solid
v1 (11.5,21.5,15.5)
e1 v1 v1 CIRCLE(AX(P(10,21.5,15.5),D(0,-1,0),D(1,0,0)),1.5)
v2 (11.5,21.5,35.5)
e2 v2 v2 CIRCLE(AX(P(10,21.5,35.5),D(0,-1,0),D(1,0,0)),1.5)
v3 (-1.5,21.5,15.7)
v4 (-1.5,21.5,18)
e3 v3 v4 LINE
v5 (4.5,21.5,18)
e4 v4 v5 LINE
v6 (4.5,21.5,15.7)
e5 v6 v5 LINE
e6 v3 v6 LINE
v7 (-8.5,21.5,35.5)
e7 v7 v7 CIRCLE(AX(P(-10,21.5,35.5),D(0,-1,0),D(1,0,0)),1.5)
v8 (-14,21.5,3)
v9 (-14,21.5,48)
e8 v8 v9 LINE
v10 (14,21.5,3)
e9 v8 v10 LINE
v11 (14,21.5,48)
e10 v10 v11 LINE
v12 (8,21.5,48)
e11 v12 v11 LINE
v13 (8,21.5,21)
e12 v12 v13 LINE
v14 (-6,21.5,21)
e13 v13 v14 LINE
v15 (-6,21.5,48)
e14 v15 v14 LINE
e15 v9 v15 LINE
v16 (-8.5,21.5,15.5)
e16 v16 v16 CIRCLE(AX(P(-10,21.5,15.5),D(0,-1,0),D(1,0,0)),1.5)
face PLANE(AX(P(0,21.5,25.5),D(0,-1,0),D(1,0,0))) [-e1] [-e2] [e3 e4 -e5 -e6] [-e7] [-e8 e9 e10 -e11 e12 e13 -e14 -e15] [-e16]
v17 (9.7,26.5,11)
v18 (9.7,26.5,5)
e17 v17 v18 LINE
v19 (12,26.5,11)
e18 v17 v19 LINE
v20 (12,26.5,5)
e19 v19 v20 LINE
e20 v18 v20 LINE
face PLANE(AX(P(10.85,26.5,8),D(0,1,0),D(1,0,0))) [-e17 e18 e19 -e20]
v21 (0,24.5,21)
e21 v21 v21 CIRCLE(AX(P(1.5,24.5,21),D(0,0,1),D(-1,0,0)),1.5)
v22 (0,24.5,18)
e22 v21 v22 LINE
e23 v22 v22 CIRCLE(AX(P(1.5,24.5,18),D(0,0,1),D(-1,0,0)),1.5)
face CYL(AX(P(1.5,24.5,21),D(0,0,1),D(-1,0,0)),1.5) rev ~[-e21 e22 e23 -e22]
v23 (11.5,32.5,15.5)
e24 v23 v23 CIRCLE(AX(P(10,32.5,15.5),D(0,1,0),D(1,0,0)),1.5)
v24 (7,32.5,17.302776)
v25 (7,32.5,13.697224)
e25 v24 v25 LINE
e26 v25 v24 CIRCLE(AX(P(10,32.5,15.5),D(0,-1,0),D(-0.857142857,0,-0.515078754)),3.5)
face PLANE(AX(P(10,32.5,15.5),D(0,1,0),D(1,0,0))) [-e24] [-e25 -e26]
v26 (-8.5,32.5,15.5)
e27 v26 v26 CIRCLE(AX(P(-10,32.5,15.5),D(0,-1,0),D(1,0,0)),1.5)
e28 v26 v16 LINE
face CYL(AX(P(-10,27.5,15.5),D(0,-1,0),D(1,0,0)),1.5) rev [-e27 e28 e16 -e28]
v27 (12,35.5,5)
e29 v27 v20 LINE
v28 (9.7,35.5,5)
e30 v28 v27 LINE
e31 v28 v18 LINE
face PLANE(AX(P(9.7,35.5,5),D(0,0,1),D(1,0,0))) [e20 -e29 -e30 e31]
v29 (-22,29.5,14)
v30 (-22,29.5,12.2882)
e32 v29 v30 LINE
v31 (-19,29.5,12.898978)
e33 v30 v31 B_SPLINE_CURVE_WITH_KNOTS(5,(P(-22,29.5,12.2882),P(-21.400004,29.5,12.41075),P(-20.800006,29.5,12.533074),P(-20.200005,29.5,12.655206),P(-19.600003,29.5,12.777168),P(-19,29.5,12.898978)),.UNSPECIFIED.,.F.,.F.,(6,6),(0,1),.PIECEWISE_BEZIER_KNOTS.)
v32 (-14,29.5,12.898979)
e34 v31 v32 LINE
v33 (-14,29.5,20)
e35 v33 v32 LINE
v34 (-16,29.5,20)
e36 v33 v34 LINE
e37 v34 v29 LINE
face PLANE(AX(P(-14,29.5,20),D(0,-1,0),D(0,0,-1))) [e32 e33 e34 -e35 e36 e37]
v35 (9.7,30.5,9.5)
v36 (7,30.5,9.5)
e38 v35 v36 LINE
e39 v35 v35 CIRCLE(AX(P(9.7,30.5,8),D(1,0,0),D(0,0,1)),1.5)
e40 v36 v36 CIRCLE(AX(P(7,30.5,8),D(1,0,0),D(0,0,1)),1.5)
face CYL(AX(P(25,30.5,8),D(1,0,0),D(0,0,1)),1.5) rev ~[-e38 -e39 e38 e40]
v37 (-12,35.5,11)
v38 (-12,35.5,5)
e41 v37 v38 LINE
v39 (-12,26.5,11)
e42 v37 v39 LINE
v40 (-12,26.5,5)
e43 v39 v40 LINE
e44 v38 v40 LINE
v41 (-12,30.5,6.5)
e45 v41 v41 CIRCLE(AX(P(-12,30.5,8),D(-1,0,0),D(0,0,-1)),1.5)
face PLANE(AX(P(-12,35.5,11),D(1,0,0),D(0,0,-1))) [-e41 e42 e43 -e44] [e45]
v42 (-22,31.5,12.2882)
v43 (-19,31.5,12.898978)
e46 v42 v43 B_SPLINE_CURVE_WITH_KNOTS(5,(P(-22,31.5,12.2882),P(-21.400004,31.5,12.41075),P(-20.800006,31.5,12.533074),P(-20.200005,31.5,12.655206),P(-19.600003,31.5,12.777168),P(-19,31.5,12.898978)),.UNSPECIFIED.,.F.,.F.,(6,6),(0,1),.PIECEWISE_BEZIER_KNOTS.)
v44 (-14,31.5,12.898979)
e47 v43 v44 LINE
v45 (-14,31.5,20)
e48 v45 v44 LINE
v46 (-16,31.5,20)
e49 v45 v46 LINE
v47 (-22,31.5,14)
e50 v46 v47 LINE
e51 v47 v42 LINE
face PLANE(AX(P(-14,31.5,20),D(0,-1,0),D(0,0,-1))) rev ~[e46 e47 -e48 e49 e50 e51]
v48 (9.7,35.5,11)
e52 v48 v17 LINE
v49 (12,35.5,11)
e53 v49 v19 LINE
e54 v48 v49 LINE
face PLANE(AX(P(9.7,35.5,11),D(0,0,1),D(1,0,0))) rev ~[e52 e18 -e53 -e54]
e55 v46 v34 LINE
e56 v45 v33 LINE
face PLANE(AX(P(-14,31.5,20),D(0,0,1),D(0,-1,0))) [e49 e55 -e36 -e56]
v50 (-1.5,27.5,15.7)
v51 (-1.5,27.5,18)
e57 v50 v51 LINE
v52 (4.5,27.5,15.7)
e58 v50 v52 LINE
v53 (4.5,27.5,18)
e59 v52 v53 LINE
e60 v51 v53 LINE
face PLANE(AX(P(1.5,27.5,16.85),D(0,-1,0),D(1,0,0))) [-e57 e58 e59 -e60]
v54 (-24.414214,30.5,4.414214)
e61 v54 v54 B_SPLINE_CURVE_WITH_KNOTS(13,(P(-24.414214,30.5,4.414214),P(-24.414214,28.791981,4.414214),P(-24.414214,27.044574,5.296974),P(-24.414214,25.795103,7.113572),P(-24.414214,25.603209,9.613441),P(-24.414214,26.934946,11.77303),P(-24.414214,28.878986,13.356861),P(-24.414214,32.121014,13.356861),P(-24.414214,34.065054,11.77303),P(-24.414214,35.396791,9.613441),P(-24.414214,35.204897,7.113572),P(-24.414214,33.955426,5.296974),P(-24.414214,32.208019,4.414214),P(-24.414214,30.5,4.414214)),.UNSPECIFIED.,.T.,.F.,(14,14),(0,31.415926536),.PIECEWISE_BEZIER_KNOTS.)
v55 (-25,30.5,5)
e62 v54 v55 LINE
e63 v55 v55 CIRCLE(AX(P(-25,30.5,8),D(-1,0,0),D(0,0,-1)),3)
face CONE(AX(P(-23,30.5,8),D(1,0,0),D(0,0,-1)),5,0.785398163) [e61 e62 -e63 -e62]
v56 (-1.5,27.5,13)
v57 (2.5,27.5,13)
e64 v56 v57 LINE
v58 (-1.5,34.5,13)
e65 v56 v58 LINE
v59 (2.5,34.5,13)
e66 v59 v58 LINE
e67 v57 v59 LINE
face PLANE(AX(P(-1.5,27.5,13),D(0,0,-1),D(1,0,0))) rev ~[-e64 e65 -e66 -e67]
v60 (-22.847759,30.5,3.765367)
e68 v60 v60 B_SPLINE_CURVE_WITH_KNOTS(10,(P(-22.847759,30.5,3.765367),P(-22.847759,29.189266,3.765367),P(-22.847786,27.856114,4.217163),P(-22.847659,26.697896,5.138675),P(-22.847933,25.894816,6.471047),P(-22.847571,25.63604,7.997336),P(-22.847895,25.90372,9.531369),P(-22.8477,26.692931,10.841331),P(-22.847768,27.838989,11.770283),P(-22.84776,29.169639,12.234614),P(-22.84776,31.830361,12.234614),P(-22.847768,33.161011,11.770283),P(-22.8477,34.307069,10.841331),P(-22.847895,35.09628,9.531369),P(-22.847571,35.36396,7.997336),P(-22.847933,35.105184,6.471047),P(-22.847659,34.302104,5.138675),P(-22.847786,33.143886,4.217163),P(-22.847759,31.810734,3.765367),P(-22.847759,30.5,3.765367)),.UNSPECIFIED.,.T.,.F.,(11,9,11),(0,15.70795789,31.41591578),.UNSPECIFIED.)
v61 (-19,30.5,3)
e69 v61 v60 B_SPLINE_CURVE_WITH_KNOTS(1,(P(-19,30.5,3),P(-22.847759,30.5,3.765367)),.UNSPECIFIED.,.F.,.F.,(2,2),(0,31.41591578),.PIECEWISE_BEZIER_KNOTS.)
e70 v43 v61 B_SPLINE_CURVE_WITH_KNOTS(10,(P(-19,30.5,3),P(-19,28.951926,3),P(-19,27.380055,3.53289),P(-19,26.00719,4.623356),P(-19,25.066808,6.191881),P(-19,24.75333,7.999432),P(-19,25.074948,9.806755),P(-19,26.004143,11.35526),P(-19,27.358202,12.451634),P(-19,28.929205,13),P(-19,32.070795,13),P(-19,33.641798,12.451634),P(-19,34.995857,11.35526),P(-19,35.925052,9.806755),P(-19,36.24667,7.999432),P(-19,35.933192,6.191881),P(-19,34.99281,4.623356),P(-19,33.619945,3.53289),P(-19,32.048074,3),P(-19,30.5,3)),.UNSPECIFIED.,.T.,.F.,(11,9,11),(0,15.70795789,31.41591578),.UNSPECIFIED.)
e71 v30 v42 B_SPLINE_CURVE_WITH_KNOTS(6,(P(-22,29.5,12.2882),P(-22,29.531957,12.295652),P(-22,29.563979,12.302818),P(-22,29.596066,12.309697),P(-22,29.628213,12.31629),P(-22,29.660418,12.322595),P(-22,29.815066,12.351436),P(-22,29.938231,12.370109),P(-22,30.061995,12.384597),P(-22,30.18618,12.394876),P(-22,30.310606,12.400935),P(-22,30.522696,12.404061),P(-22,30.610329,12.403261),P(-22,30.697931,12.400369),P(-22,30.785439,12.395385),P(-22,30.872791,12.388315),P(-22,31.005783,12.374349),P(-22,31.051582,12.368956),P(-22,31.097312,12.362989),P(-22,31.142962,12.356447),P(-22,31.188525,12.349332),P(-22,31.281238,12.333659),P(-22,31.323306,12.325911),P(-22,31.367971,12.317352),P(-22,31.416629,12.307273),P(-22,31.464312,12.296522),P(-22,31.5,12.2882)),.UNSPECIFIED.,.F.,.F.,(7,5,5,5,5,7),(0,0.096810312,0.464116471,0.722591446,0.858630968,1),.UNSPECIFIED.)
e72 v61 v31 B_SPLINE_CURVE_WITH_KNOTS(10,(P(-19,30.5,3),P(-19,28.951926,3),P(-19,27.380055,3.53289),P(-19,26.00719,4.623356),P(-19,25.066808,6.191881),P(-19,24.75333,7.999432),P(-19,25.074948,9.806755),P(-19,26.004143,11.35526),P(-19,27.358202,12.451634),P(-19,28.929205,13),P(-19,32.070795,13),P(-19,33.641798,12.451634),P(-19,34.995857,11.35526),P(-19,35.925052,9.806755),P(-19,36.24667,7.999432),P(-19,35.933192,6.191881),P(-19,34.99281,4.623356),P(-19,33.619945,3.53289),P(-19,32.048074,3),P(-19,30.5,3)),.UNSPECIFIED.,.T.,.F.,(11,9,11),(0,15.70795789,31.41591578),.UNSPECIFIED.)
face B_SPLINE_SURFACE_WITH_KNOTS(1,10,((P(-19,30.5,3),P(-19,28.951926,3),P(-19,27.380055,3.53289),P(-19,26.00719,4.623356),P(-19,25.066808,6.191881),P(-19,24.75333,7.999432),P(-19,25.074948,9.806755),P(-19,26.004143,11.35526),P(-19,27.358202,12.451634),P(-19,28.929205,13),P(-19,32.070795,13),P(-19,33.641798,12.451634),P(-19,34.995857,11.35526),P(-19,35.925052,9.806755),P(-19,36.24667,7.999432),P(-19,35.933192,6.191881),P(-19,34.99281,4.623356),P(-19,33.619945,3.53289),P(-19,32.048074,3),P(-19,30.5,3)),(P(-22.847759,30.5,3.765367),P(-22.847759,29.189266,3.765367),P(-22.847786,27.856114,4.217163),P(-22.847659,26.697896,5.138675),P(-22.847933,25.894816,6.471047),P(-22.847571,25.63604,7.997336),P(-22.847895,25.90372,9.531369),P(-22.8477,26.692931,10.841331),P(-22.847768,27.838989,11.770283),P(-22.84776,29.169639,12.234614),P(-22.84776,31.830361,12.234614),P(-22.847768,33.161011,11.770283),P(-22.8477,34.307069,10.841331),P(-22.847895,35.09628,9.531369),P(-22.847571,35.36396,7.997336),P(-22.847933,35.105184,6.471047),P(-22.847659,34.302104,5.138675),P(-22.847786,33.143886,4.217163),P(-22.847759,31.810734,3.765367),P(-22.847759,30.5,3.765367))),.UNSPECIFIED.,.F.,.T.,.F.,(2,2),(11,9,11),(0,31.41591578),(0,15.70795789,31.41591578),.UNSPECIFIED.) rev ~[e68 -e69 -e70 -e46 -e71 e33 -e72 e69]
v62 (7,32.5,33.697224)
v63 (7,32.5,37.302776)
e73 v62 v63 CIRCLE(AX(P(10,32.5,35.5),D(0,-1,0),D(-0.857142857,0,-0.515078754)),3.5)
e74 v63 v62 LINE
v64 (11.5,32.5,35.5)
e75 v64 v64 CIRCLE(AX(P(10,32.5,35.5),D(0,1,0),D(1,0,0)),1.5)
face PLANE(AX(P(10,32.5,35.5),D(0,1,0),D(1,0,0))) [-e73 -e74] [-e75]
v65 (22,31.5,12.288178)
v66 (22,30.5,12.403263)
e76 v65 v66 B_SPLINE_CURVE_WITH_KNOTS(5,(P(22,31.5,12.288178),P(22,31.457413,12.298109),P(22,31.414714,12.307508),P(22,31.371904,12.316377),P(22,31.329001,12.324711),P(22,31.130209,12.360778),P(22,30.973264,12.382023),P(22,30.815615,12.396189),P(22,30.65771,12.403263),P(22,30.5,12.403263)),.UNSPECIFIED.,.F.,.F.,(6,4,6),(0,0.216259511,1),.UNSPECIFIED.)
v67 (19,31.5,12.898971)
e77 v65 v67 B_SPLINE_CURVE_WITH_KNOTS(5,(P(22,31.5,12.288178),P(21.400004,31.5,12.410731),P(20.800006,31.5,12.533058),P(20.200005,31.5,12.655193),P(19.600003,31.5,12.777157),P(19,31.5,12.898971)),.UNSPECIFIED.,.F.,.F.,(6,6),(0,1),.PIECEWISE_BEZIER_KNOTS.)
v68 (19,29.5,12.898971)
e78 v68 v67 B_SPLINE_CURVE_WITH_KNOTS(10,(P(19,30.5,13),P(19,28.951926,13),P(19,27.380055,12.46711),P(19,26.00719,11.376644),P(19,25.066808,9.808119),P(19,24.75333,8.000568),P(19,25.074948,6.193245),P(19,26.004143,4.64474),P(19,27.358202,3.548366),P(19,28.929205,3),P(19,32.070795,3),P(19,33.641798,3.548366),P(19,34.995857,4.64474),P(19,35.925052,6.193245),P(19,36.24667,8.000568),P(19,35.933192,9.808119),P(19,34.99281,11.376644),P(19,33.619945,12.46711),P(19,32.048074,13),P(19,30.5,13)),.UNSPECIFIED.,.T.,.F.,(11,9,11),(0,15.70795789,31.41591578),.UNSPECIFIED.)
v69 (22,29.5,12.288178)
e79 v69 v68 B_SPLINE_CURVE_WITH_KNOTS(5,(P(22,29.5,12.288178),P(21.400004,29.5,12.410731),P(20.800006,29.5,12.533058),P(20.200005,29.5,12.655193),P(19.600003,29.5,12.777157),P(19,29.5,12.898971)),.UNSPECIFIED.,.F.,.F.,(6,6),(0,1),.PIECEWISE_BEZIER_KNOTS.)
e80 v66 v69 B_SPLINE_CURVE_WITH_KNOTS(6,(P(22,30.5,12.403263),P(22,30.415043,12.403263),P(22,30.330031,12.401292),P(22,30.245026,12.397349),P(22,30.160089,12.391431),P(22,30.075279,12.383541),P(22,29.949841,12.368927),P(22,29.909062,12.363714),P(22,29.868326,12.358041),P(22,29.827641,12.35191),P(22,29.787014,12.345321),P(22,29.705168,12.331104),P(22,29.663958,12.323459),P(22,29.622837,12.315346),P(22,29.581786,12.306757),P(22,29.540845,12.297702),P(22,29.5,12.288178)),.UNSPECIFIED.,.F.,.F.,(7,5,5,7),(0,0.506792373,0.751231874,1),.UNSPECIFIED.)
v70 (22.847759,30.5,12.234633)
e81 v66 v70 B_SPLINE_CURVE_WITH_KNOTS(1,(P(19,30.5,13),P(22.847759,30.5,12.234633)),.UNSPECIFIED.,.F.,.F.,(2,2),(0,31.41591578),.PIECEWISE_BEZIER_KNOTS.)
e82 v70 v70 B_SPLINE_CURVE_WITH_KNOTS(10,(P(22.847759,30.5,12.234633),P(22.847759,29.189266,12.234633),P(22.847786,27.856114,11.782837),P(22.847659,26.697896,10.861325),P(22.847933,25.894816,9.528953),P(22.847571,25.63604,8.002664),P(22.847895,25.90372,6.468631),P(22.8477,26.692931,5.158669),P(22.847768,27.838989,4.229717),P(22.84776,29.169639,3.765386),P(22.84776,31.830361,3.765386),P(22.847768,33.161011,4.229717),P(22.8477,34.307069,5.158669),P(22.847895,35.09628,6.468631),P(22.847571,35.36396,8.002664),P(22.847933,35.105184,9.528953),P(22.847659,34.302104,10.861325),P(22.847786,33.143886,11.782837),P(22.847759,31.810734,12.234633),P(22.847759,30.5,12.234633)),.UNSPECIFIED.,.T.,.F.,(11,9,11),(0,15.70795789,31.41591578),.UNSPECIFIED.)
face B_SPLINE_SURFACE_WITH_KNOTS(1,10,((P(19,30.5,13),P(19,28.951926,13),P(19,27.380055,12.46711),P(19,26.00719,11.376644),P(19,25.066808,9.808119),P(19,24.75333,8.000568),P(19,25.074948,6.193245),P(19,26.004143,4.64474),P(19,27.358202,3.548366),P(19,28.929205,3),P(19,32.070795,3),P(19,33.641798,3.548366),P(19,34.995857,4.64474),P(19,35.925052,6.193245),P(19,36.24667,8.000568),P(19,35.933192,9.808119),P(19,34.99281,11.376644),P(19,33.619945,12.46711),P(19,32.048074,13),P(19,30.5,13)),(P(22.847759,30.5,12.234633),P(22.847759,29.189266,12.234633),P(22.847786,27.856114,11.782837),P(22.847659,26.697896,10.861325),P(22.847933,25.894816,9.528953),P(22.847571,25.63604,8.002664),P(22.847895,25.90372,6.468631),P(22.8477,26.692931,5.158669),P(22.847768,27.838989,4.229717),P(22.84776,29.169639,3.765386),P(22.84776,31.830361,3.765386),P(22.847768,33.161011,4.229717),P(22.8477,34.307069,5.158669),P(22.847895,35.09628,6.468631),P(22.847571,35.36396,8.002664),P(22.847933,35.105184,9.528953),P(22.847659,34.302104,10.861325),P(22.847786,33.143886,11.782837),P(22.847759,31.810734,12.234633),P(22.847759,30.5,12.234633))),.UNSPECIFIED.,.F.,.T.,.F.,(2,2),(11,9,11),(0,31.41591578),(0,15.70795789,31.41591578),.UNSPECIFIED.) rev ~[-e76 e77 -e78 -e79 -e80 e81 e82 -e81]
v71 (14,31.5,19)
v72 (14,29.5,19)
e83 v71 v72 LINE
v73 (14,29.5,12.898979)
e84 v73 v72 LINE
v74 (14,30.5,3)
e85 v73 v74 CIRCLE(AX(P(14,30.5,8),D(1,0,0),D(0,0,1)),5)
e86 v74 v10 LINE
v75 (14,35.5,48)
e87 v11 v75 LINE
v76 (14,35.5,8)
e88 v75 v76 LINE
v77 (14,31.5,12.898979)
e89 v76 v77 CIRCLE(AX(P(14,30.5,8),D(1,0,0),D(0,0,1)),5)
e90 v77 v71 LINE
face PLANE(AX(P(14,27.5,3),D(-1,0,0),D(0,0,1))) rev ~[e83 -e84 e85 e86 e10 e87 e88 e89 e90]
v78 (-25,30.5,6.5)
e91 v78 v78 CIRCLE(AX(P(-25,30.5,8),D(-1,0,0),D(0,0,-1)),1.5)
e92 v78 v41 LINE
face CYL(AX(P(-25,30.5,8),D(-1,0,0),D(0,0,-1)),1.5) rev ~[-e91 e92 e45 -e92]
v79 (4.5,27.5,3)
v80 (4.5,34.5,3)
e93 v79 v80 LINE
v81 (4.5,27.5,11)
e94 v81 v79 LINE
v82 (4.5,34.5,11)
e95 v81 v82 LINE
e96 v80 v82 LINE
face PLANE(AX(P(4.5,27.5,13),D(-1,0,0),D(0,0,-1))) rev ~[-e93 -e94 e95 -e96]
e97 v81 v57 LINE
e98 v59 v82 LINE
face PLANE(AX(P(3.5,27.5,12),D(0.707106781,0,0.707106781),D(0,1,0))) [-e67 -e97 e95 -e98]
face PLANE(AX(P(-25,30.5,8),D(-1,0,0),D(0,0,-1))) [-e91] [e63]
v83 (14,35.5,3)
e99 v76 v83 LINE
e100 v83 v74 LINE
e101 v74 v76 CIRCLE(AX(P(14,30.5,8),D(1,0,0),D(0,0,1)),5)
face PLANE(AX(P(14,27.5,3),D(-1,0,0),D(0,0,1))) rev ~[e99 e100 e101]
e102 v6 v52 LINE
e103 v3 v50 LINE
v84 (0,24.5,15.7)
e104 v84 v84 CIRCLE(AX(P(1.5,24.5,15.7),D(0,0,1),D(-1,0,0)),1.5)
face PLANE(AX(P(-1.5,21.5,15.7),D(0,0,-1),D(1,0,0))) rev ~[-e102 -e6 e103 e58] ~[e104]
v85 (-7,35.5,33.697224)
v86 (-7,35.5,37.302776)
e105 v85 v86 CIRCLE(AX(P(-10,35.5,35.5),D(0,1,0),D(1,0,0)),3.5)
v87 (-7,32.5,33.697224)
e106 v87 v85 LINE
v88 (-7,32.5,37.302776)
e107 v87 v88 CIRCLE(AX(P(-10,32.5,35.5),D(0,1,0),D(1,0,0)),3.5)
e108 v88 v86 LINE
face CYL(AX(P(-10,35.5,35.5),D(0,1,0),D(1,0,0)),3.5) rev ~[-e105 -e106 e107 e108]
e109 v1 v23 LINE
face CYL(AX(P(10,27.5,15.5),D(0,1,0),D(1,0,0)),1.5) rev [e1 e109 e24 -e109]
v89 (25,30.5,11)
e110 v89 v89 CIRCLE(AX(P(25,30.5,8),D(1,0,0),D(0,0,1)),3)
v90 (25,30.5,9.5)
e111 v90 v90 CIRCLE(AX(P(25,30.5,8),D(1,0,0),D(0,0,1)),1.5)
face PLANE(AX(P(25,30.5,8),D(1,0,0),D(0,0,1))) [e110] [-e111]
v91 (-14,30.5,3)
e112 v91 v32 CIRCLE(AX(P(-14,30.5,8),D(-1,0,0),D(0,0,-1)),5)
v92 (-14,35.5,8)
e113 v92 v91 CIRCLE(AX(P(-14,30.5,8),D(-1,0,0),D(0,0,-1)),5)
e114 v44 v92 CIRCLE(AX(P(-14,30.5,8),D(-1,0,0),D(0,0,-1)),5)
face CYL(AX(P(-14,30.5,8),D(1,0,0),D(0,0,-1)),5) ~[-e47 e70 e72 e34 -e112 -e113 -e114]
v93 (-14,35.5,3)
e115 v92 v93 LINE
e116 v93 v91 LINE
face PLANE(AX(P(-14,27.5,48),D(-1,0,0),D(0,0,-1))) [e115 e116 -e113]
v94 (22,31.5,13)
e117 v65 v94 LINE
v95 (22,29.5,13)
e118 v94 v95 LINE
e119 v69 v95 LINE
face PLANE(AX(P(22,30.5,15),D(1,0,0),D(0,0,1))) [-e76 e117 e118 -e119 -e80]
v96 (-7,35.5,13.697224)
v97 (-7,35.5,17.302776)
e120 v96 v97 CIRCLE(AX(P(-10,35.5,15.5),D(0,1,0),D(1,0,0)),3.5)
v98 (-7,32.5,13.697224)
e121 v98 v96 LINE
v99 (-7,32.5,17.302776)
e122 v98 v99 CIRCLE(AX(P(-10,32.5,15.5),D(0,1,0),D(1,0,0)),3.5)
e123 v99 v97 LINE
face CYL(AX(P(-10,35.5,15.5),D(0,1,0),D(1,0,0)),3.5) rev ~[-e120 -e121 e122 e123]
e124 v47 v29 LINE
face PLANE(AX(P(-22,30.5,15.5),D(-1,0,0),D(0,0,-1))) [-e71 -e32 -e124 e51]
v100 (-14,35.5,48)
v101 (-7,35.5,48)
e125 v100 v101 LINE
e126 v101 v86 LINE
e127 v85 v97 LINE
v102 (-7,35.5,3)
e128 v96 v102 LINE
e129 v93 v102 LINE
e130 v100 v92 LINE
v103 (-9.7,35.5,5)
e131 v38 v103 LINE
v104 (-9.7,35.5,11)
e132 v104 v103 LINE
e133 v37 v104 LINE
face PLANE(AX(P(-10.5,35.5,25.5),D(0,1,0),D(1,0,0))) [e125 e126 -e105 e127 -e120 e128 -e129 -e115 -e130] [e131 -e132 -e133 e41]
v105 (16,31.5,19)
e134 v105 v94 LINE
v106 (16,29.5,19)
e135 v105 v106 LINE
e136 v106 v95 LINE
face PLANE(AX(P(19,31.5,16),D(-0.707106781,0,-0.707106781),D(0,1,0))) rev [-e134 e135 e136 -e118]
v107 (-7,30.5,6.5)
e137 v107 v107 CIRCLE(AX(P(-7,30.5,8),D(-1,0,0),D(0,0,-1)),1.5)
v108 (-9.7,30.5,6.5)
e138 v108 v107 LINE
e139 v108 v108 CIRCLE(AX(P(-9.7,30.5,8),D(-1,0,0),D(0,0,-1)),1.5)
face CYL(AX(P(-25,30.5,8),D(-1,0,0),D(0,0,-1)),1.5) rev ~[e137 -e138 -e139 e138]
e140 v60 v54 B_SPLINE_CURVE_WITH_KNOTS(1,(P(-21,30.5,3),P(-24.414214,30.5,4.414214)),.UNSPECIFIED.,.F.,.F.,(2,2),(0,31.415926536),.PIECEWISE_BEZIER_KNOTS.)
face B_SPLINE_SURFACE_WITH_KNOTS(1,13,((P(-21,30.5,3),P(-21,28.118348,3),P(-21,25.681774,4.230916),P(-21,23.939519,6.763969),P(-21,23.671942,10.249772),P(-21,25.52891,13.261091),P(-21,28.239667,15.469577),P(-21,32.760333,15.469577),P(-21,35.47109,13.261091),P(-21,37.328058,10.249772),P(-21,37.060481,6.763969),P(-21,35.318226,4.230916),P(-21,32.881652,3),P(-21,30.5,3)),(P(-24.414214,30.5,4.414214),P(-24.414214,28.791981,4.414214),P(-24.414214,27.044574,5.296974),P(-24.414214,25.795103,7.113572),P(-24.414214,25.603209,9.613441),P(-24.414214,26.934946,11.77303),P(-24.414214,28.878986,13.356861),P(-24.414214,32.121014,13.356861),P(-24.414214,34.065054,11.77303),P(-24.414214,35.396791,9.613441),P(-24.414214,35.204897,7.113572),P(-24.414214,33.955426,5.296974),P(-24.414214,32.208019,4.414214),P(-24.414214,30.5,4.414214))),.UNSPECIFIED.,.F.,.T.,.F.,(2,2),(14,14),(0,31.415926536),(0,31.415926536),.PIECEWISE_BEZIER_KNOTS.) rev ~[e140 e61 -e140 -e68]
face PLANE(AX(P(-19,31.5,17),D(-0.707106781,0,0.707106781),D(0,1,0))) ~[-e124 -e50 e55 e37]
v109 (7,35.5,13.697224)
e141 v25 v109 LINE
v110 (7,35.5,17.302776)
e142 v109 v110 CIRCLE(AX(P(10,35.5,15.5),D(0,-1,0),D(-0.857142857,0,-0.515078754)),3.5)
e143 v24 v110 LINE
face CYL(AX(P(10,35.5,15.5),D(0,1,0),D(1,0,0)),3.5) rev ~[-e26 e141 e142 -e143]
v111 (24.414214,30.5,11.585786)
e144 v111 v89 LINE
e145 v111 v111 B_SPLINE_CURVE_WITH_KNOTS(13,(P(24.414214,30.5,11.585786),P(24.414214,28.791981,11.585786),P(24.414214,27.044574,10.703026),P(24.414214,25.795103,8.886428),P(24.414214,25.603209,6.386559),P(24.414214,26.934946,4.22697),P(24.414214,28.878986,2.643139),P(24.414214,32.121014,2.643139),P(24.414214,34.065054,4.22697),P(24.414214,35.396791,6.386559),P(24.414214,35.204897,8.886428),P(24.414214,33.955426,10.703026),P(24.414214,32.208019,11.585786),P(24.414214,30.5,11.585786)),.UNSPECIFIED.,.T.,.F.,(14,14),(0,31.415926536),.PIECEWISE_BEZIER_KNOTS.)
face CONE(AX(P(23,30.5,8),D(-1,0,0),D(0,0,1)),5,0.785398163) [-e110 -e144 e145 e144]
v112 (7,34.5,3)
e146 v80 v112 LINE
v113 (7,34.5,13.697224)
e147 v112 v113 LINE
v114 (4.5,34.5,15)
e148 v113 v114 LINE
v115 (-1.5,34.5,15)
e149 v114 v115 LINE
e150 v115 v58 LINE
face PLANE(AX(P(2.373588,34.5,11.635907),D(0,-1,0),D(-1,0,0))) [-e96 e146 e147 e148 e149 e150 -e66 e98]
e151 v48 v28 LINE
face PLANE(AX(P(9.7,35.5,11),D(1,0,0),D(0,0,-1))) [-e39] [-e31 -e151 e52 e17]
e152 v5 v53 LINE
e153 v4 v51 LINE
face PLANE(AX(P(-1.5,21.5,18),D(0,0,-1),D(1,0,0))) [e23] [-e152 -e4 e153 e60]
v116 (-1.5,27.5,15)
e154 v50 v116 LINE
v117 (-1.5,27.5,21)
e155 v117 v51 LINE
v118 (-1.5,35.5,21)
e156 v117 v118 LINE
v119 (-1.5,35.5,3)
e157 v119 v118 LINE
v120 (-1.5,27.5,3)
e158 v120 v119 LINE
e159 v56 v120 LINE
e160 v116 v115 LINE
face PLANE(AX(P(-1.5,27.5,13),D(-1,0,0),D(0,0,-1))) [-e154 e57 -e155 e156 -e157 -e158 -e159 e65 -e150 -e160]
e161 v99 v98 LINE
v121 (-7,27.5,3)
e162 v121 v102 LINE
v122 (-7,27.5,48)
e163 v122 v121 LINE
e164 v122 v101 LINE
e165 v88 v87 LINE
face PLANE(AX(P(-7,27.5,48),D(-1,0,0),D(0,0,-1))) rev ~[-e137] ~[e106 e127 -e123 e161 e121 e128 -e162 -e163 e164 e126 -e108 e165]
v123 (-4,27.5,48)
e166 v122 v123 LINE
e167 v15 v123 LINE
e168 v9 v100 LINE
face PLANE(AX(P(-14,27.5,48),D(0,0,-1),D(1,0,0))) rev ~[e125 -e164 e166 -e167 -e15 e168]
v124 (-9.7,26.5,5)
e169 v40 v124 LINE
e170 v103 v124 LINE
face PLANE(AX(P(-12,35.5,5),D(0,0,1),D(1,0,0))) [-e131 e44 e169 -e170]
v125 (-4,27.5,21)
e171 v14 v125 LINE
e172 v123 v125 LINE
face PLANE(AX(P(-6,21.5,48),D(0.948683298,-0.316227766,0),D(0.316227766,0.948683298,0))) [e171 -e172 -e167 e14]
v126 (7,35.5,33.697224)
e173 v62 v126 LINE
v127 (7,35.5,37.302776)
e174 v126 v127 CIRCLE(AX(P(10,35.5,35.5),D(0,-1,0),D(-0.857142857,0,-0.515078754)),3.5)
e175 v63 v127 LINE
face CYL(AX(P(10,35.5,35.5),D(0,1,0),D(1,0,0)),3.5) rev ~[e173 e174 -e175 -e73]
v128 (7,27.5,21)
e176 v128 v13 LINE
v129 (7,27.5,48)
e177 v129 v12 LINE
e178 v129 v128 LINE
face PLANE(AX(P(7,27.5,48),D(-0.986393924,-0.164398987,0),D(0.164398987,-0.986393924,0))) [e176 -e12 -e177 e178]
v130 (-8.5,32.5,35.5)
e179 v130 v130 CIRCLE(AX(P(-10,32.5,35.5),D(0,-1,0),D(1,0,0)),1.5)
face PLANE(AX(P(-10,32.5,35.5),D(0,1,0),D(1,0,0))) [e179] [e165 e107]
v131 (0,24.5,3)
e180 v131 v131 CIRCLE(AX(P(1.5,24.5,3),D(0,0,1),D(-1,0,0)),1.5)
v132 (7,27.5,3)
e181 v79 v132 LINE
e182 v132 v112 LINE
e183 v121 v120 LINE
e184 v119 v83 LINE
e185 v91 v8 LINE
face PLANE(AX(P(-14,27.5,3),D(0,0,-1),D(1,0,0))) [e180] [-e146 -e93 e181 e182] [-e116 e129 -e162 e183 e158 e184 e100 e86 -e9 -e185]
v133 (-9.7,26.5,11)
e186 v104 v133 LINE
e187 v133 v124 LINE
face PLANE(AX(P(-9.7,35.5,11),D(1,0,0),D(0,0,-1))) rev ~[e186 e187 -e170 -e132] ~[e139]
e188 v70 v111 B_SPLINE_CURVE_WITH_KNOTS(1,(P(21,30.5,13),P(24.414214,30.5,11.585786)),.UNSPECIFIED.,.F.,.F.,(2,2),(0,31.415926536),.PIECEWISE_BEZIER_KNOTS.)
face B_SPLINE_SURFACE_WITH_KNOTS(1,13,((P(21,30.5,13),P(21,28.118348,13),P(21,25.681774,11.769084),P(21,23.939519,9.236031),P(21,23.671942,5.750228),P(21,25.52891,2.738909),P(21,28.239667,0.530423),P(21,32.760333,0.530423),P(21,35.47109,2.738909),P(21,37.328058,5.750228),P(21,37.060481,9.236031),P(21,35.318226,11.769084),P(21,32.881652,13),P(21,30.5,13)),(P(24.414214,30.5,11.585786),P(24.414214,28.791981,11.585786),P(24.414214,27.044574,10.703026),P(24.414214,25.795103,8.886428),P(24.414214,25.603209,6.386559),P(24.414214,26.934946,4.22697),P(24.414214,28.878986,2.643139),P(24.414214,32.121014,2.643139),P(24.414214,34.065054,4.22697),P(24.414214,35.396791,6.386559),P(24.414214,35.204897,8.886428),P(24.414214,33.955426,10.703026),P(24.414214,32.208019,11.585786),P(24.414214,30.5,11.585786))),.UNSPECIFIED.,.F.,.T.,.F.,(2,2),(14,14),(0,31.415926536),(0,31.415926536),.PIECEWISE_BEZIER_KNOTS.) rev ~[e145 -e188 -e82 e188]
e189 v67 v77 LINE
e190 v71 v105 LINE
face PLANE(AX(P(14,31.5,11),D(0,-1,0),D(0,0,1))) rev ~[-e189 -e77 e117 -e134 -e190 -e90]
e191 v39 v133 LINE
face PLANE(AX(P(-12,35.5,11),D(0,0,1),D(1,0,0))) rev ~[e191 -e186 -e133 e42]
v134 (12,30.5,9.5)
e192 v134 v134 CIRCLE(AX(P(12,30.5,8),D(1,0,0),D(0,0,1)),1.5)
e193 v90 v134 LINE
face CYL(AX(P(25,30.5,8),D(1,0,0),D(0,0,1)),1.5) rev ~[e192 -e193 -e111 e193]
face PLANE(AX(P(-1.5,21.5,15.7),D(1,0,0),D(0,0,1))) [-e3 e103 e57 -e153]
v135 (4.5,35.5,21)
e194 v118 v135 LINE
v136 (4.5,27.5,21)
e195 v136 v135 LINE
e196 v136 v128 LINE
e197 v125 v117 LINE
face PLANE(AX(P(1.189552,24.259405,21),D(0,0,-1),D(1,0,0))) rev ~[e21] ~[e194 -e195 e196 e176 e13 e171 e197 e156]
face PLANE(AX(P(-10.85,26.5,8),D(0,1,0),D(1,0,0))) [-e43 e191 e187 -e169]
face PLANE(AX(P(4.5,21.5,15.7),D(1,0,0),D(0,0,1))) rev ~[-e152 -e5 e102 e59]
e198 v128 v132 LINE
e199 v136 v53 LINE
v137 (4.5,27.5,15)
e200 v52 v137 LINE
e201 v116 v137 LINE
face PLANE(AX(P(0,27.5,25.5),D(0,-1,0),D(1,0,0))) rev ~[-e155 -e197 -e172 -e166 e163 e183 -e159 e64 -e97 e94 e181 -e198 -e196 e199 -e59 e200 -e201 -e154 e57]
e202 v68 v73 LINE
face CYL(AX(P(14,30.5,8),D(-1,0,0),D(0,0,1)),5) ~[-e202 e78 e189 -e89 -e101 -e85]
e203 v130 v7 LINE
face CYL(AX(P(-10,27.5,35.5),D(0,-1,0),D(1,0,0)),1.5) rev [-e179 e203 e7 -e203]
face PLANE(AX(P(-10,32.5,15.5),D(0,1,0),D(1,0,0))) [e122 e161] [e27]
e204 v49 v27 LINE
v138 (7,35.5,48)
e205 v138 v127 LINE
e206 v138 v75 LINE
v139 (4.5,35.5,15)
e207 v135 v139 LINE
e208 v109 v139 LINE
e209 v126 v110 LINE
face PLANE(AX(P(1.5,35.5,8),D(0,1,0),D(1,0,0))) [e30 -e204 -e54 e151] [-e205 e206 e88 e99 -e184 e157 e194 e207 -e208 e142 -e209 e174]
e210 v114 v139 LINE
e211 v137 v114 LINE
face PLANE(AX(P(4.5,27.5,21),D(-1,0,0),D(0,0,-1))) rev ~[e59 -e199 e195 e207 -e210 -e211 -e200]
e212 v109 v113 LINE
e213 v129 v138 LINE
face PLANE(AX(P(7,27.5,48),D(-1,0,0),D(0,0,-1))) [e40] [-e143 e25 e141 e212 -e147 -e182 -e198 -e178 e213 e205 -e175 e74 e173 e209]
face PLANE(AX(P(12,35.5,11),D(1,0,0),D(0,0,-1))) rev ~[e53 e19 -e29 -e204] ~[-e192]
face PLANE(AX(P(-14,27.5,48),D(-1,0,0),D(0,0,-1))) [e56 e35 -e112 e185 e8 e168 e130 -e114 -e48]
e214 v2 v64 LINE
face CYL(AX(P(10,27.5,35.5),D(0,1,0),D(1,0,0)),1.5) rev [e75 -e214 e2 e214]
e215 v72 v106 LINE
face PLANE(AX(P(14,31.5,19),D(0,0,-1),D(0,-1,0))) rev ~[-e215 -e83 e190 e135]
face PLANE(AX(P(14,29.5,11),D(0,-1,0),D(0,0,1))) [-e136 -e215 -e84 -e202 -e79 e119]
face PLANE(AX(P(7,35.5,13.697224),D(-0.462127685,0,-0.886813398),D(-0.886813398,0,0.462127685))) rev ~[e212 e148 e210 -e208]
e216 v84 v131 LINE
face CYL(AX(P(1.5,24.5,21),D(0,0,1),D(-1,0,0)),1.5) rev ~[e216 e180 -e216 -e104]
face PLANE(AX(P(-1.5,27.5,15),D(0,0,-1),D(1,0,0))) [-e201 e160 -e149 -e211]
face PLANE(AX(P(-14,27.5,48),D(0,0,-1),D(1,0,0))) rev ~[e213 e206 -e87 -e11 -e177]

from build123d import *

# Parameters (mm, degrees)
SKETCH021_W     = 28
SKETCH021_H     = 45
SKETCH021_R     = 1.5
PAD010_DEPTH    = 6
SKETCH022_W     = 7
SKETCH022_H     = 45
SKETCH022_R     = 1.5
SKETCH022_W_2   = 6
SKETCH022_H_2   = 10
SKETCH022_H_3   = 6
PAD011_DEPTH    = 8
SKETCH032_R     = 3.5
POCKET010_DEPTH = 3
POCKET011_DEPTH = 27
SKETCH034_R     = 1.5
POCKET012_DEPTH = 19
SKETCH035_R     = 5
PAD012_DEPTH    = 11
SKETCH036_R     = 5
PAD013_DEPTH    = 11
SKETCH037_R     = 1.5
POCKET013_DEPTH = 20
SKETCH038_R     = 1.5
POCKET014_DEPTH = 20
CHAMFER005_SIZE = 2
CHAMFER006_SIZE = 2
CHAMFER007_SIZE = 2
SKETCH039_W     = 9
SKETCH039_H     = 2
PAD014_DEPTH    = 8
SKETCH040_W     = 8
SKETCH040_H     = 2
PAD015_DEPTH    = 8
CHAMFER008_SIZE = 6
SKETCH041_W     = 6
SKETCH041_H     = 2.3
POCKET015_DEPTH = 6
CHAMFER012_SIZE = 2
PAD017_DEPTH    = 1
SKETCH047_W     = 2.3
SKETCH047_H     = 6
POCKET018_DEPTH = 9


with BuildPart() as part:
    # Sketch021 → Pad010 (new body)
    with BuildSketch(Plane.XZ):
        with Locations((14, 22.5)):
            Rectangle(SKETCH021_W, SKETCH021_H)
        with Locations((4, 32.5)):
            Circle(SKETCH021_R, mode=Mode.SUBTRACT)
        with Locations((24, 32.5)):
            Circle(SKETCH021_R, mode=Mode.SUBTRACT)
        with Locations((4, 12.5)):
            Circle(SKETCH021_R, mode=Mode.SUBTRACT)
        with Locations((24, 12.5)):
            Circle(SKETCH021_R, mode=Mode.SUBTRACT)
    extrude(amount=PAD010_DEPTH)

    # Sketch022 (on Face9 of Pad010) → Pad011 (join)
    with BuildSketch(Plane(origin=(0, 0, 0), x_dir=(1, 0, 0), z_dir=(0, 1, 0))):
        with Locations((3.5, -22.5)):
            Rectangle(SKETCH022_W, SKETCH022_H)
        with Locations((4, -12.5)):
            Circle(SKETCH022_R, mode=Mode.SUBTRACT)
        with Locations((4, -32.5)):
            Circle(SKETCH022_R, mode=Mode.SUBTRACT)
        with Locations((24.5, -22.5)):
            Rectangle(SKETCH022_W, SKETCH022_H)
        with Locations((24, -12.5)):
            Circle(SKETCH022_R, mode=Mode.SUBTRACT)
        with Locations((24, -32.5)):
            Circle(SKETCH022_R, mode=Mode.SUBTRACT)
        with Locations((15.5, -5)):
            Rectangle(SKETCH022_W_2, SKETCH022_H_2)
        with Locations((15.5, -15)):
            Rectangle(SKETCH022_W_2, SKETCH022_H_3)
    extrude(amount=PAD011_DEPTH)

    # Sketch032 → Pocket010 (cut)
    with BuildSketch(Plane(origin=(0, 8, 0), x_dir=(1, 0, 0), z_dir=(0, 1, 0))):
        with Locations((4, -12.5)):
            Circle(SKETCH032_R)
        with Locations((4, -32.5)):
            Circle(SKETCH032_R)
        with Locations((24, -32.5)):
            Circle(SKETCH032_R)
        with Locations((24, -12.5)):
            Circle(SKETCH032_R)
    extrude(amount=-POCKET010_DEPTH, mode=Mode.SUBTRACT)

    # Sketch033 (on Face4 of Pocket010) → Pocket011 (cut)
    with BuildSketch(Plane(origin=(0, 0, 45), x_dir=(-1, 0, 0), z_dir=(0, 0, 1))):
        Polygon((-22, 6), (-8, 6), (-10, 0), (-21, 0), align=None)
    extrude(amount=-POCKET011_DEPTH, mode=Mode.SUBTRACT)

    # Sketch034 (on Face5 of Pocket011) → Pocket012 (cut)
    with BuildSketch(Plane(origin=(0, 0, 18), x_dir=(-1, 0, 0), z_dir=(0, 0, 1))):
        with Locations((-15.5, 3)):
            Circle(SKETCH034_R)
    extrude(amount=-POCKET012_DEPTH, mode=Mode.SUBTRACT)

    # Sketch035 (on Face14 of Pocket012) → Pad012 (join)
    with BuildSketch(Plane(origin=(0, 0, 0), x_dir=(0, 0, -1), z_dir=(-1, 0, 0))):
        with Locations((-5, -3)):
            Circle(SKETCH035_R)
    extrude(amount=PAD012_DEPTH)

    # Sketch036 (on Face21 of Pocket012) → Pad013 (join)
    with BuildSketch(Plane(origin=(28, 0, 0), x_dir=(0, 0, 1), z_dir=(1, 0, 0))):
        with Locations((5, -3)):
            Circle(SKETCH036_R)
    extrude(amount=PAD013_DEPTH)

    # Sketch037 (on Face35 of Pad013) → Pocket013 (cut)
    with BuildSketch(Plane(origin=(-11, 0, 0), x_dir=(0, 0, -1), z_dir=(-1, 0, 0))):
        with Locations((-5, -3)):
            Circle(SKETCH037_R)
    extrude(amount=-POCKET013_DEPTH, mode=Mode.SUBTRACT)

    # Sketch038 (on Face52 of Pocket013) → Pocket014 (cut)
    with BuildSketch(Plane(origin=(39, 0, 0), x_dir=(0, 0, 1), z_dir=(1, 0, 0))):
        with Locations((5, -3)):
            Circle(SKETCH038_R)
    extrude(amount=-POCKET014_DEPTH, mode=Mode.SUBTRACT)

    # Chamfer005
    chamfer005_edges = [part.edges().sort_by_distance(p)[0] for p in [
        (39, 3, 0),
        (-11, 3, 10),
    ]]
    chamfer(chamfer005_edges, length=CHAMFER005_SIZE)

    # Chamfer006
    chamfer006_edges = [part.edges().sort_by_distance(p)[0] for p in [
        (37, 3, 0),
        (-9, 3, 10),
    ]]
    chamfer(chamfer006_edges, length=CHAMFER006_SIZE)

    # Chamfer007
    chamfer007_edges = [part.edges().sort_by_distance(p)[0] for p in [
        (35, 3, 2.2e-05),
        (-7, 3, 9.999978),
    ]]
    chamfer(chamfer007_edges, length=CHAMFER007_SIZE)

    # Sketch039 (on Face4 of Chamfer007) → Pad014 (join)
    with BuildSketch(Plane(origin=(0, 0, 0), x_dir=(0, 0, -1), z_dir=(-1, 0, 0))):
        with Locations((-12.5, -3)):
            Rectangle(SKETCH039_W, SKETCH039_H)
    extrude(amount=PAD014_DEPTH)

    # Sketch040 (on Face48 of Pad014) → Pad015 (join)
    with BuildSketch(Plane(origin=(28, 0, 0), x_dir=(0, 0, 1), z_dir=(1, 0, 0))):
        with Locations((12, -3)):
            Rectangle(SKETCH040_W, SKETCH040_H)
    extrude(amount=PAD015_DEPTH)

    # Chamfer008
    chamfer008_edges = [part.edges().sort_by_distance(p)[0] for p in [
        (-8, 3, 17),
        (36, 3, 16),
    ]]
    chamfer(chamfer008_edges, length=CHAMFER008_SIZE)

    # Sketch041 (on Face17 of Chamfer008) → Pocket015 (cut)
    with BuildSketch(Plane.XZ.offset(6)):
        with Locations((15.5, 13.85)):
            Rectangle(SKETCH041_W, SKETCH041_H)
    extrude(amount=-POCKET015_DEPTH, mode=Mode.SUBTRACT)

    # Chamfer012
    chamfer012_edges = [part.edges().sort_by_distance(p)[0] for p in [
        (18.5, 4, 10),
    ]]
    chamfer(chamfer012_edges, length=CHAMFER012_SIZE)

    # Sketch045 (on Face18 of Chamfer012) → Pad017 (join)
    with BuildSketch(Plane(origin=(0, 8, 0), x_dir=(1, 0, 0), z_dir=(0, 1, 0))):
        Polygon((12.5, 0), (21, 0), (21, -10.697224), (18.5, -12), (18.5, -18), (12.5, -18), align=None)
    extrude(amount=-PAD017_DEPTH)

    # Sketch047 (on Face25 of Pad017) → Pocket018 (cut)
    with BuildSketch(Plane(origin=(0, 8, 0), x_dir=(1, 0, 0), z_dir=(0, 1, 0))):
        with Locations((3.15, -5)):
            Rectangle(SKETCH047_W, SKETCH047_H)
        with Locations((24.85, -5)):
            Rectangle(SKETCH047_W, SKETCH047_H)
    extrude(amount=-POCKET018_DEPTH, mode=Mode.SUBTRACT)


with BuildPart() as part_1:
    # Body007 placement: moved
    add(part.part.moved(Location((-14, 27.5, 3))))


solid = part_1.part
